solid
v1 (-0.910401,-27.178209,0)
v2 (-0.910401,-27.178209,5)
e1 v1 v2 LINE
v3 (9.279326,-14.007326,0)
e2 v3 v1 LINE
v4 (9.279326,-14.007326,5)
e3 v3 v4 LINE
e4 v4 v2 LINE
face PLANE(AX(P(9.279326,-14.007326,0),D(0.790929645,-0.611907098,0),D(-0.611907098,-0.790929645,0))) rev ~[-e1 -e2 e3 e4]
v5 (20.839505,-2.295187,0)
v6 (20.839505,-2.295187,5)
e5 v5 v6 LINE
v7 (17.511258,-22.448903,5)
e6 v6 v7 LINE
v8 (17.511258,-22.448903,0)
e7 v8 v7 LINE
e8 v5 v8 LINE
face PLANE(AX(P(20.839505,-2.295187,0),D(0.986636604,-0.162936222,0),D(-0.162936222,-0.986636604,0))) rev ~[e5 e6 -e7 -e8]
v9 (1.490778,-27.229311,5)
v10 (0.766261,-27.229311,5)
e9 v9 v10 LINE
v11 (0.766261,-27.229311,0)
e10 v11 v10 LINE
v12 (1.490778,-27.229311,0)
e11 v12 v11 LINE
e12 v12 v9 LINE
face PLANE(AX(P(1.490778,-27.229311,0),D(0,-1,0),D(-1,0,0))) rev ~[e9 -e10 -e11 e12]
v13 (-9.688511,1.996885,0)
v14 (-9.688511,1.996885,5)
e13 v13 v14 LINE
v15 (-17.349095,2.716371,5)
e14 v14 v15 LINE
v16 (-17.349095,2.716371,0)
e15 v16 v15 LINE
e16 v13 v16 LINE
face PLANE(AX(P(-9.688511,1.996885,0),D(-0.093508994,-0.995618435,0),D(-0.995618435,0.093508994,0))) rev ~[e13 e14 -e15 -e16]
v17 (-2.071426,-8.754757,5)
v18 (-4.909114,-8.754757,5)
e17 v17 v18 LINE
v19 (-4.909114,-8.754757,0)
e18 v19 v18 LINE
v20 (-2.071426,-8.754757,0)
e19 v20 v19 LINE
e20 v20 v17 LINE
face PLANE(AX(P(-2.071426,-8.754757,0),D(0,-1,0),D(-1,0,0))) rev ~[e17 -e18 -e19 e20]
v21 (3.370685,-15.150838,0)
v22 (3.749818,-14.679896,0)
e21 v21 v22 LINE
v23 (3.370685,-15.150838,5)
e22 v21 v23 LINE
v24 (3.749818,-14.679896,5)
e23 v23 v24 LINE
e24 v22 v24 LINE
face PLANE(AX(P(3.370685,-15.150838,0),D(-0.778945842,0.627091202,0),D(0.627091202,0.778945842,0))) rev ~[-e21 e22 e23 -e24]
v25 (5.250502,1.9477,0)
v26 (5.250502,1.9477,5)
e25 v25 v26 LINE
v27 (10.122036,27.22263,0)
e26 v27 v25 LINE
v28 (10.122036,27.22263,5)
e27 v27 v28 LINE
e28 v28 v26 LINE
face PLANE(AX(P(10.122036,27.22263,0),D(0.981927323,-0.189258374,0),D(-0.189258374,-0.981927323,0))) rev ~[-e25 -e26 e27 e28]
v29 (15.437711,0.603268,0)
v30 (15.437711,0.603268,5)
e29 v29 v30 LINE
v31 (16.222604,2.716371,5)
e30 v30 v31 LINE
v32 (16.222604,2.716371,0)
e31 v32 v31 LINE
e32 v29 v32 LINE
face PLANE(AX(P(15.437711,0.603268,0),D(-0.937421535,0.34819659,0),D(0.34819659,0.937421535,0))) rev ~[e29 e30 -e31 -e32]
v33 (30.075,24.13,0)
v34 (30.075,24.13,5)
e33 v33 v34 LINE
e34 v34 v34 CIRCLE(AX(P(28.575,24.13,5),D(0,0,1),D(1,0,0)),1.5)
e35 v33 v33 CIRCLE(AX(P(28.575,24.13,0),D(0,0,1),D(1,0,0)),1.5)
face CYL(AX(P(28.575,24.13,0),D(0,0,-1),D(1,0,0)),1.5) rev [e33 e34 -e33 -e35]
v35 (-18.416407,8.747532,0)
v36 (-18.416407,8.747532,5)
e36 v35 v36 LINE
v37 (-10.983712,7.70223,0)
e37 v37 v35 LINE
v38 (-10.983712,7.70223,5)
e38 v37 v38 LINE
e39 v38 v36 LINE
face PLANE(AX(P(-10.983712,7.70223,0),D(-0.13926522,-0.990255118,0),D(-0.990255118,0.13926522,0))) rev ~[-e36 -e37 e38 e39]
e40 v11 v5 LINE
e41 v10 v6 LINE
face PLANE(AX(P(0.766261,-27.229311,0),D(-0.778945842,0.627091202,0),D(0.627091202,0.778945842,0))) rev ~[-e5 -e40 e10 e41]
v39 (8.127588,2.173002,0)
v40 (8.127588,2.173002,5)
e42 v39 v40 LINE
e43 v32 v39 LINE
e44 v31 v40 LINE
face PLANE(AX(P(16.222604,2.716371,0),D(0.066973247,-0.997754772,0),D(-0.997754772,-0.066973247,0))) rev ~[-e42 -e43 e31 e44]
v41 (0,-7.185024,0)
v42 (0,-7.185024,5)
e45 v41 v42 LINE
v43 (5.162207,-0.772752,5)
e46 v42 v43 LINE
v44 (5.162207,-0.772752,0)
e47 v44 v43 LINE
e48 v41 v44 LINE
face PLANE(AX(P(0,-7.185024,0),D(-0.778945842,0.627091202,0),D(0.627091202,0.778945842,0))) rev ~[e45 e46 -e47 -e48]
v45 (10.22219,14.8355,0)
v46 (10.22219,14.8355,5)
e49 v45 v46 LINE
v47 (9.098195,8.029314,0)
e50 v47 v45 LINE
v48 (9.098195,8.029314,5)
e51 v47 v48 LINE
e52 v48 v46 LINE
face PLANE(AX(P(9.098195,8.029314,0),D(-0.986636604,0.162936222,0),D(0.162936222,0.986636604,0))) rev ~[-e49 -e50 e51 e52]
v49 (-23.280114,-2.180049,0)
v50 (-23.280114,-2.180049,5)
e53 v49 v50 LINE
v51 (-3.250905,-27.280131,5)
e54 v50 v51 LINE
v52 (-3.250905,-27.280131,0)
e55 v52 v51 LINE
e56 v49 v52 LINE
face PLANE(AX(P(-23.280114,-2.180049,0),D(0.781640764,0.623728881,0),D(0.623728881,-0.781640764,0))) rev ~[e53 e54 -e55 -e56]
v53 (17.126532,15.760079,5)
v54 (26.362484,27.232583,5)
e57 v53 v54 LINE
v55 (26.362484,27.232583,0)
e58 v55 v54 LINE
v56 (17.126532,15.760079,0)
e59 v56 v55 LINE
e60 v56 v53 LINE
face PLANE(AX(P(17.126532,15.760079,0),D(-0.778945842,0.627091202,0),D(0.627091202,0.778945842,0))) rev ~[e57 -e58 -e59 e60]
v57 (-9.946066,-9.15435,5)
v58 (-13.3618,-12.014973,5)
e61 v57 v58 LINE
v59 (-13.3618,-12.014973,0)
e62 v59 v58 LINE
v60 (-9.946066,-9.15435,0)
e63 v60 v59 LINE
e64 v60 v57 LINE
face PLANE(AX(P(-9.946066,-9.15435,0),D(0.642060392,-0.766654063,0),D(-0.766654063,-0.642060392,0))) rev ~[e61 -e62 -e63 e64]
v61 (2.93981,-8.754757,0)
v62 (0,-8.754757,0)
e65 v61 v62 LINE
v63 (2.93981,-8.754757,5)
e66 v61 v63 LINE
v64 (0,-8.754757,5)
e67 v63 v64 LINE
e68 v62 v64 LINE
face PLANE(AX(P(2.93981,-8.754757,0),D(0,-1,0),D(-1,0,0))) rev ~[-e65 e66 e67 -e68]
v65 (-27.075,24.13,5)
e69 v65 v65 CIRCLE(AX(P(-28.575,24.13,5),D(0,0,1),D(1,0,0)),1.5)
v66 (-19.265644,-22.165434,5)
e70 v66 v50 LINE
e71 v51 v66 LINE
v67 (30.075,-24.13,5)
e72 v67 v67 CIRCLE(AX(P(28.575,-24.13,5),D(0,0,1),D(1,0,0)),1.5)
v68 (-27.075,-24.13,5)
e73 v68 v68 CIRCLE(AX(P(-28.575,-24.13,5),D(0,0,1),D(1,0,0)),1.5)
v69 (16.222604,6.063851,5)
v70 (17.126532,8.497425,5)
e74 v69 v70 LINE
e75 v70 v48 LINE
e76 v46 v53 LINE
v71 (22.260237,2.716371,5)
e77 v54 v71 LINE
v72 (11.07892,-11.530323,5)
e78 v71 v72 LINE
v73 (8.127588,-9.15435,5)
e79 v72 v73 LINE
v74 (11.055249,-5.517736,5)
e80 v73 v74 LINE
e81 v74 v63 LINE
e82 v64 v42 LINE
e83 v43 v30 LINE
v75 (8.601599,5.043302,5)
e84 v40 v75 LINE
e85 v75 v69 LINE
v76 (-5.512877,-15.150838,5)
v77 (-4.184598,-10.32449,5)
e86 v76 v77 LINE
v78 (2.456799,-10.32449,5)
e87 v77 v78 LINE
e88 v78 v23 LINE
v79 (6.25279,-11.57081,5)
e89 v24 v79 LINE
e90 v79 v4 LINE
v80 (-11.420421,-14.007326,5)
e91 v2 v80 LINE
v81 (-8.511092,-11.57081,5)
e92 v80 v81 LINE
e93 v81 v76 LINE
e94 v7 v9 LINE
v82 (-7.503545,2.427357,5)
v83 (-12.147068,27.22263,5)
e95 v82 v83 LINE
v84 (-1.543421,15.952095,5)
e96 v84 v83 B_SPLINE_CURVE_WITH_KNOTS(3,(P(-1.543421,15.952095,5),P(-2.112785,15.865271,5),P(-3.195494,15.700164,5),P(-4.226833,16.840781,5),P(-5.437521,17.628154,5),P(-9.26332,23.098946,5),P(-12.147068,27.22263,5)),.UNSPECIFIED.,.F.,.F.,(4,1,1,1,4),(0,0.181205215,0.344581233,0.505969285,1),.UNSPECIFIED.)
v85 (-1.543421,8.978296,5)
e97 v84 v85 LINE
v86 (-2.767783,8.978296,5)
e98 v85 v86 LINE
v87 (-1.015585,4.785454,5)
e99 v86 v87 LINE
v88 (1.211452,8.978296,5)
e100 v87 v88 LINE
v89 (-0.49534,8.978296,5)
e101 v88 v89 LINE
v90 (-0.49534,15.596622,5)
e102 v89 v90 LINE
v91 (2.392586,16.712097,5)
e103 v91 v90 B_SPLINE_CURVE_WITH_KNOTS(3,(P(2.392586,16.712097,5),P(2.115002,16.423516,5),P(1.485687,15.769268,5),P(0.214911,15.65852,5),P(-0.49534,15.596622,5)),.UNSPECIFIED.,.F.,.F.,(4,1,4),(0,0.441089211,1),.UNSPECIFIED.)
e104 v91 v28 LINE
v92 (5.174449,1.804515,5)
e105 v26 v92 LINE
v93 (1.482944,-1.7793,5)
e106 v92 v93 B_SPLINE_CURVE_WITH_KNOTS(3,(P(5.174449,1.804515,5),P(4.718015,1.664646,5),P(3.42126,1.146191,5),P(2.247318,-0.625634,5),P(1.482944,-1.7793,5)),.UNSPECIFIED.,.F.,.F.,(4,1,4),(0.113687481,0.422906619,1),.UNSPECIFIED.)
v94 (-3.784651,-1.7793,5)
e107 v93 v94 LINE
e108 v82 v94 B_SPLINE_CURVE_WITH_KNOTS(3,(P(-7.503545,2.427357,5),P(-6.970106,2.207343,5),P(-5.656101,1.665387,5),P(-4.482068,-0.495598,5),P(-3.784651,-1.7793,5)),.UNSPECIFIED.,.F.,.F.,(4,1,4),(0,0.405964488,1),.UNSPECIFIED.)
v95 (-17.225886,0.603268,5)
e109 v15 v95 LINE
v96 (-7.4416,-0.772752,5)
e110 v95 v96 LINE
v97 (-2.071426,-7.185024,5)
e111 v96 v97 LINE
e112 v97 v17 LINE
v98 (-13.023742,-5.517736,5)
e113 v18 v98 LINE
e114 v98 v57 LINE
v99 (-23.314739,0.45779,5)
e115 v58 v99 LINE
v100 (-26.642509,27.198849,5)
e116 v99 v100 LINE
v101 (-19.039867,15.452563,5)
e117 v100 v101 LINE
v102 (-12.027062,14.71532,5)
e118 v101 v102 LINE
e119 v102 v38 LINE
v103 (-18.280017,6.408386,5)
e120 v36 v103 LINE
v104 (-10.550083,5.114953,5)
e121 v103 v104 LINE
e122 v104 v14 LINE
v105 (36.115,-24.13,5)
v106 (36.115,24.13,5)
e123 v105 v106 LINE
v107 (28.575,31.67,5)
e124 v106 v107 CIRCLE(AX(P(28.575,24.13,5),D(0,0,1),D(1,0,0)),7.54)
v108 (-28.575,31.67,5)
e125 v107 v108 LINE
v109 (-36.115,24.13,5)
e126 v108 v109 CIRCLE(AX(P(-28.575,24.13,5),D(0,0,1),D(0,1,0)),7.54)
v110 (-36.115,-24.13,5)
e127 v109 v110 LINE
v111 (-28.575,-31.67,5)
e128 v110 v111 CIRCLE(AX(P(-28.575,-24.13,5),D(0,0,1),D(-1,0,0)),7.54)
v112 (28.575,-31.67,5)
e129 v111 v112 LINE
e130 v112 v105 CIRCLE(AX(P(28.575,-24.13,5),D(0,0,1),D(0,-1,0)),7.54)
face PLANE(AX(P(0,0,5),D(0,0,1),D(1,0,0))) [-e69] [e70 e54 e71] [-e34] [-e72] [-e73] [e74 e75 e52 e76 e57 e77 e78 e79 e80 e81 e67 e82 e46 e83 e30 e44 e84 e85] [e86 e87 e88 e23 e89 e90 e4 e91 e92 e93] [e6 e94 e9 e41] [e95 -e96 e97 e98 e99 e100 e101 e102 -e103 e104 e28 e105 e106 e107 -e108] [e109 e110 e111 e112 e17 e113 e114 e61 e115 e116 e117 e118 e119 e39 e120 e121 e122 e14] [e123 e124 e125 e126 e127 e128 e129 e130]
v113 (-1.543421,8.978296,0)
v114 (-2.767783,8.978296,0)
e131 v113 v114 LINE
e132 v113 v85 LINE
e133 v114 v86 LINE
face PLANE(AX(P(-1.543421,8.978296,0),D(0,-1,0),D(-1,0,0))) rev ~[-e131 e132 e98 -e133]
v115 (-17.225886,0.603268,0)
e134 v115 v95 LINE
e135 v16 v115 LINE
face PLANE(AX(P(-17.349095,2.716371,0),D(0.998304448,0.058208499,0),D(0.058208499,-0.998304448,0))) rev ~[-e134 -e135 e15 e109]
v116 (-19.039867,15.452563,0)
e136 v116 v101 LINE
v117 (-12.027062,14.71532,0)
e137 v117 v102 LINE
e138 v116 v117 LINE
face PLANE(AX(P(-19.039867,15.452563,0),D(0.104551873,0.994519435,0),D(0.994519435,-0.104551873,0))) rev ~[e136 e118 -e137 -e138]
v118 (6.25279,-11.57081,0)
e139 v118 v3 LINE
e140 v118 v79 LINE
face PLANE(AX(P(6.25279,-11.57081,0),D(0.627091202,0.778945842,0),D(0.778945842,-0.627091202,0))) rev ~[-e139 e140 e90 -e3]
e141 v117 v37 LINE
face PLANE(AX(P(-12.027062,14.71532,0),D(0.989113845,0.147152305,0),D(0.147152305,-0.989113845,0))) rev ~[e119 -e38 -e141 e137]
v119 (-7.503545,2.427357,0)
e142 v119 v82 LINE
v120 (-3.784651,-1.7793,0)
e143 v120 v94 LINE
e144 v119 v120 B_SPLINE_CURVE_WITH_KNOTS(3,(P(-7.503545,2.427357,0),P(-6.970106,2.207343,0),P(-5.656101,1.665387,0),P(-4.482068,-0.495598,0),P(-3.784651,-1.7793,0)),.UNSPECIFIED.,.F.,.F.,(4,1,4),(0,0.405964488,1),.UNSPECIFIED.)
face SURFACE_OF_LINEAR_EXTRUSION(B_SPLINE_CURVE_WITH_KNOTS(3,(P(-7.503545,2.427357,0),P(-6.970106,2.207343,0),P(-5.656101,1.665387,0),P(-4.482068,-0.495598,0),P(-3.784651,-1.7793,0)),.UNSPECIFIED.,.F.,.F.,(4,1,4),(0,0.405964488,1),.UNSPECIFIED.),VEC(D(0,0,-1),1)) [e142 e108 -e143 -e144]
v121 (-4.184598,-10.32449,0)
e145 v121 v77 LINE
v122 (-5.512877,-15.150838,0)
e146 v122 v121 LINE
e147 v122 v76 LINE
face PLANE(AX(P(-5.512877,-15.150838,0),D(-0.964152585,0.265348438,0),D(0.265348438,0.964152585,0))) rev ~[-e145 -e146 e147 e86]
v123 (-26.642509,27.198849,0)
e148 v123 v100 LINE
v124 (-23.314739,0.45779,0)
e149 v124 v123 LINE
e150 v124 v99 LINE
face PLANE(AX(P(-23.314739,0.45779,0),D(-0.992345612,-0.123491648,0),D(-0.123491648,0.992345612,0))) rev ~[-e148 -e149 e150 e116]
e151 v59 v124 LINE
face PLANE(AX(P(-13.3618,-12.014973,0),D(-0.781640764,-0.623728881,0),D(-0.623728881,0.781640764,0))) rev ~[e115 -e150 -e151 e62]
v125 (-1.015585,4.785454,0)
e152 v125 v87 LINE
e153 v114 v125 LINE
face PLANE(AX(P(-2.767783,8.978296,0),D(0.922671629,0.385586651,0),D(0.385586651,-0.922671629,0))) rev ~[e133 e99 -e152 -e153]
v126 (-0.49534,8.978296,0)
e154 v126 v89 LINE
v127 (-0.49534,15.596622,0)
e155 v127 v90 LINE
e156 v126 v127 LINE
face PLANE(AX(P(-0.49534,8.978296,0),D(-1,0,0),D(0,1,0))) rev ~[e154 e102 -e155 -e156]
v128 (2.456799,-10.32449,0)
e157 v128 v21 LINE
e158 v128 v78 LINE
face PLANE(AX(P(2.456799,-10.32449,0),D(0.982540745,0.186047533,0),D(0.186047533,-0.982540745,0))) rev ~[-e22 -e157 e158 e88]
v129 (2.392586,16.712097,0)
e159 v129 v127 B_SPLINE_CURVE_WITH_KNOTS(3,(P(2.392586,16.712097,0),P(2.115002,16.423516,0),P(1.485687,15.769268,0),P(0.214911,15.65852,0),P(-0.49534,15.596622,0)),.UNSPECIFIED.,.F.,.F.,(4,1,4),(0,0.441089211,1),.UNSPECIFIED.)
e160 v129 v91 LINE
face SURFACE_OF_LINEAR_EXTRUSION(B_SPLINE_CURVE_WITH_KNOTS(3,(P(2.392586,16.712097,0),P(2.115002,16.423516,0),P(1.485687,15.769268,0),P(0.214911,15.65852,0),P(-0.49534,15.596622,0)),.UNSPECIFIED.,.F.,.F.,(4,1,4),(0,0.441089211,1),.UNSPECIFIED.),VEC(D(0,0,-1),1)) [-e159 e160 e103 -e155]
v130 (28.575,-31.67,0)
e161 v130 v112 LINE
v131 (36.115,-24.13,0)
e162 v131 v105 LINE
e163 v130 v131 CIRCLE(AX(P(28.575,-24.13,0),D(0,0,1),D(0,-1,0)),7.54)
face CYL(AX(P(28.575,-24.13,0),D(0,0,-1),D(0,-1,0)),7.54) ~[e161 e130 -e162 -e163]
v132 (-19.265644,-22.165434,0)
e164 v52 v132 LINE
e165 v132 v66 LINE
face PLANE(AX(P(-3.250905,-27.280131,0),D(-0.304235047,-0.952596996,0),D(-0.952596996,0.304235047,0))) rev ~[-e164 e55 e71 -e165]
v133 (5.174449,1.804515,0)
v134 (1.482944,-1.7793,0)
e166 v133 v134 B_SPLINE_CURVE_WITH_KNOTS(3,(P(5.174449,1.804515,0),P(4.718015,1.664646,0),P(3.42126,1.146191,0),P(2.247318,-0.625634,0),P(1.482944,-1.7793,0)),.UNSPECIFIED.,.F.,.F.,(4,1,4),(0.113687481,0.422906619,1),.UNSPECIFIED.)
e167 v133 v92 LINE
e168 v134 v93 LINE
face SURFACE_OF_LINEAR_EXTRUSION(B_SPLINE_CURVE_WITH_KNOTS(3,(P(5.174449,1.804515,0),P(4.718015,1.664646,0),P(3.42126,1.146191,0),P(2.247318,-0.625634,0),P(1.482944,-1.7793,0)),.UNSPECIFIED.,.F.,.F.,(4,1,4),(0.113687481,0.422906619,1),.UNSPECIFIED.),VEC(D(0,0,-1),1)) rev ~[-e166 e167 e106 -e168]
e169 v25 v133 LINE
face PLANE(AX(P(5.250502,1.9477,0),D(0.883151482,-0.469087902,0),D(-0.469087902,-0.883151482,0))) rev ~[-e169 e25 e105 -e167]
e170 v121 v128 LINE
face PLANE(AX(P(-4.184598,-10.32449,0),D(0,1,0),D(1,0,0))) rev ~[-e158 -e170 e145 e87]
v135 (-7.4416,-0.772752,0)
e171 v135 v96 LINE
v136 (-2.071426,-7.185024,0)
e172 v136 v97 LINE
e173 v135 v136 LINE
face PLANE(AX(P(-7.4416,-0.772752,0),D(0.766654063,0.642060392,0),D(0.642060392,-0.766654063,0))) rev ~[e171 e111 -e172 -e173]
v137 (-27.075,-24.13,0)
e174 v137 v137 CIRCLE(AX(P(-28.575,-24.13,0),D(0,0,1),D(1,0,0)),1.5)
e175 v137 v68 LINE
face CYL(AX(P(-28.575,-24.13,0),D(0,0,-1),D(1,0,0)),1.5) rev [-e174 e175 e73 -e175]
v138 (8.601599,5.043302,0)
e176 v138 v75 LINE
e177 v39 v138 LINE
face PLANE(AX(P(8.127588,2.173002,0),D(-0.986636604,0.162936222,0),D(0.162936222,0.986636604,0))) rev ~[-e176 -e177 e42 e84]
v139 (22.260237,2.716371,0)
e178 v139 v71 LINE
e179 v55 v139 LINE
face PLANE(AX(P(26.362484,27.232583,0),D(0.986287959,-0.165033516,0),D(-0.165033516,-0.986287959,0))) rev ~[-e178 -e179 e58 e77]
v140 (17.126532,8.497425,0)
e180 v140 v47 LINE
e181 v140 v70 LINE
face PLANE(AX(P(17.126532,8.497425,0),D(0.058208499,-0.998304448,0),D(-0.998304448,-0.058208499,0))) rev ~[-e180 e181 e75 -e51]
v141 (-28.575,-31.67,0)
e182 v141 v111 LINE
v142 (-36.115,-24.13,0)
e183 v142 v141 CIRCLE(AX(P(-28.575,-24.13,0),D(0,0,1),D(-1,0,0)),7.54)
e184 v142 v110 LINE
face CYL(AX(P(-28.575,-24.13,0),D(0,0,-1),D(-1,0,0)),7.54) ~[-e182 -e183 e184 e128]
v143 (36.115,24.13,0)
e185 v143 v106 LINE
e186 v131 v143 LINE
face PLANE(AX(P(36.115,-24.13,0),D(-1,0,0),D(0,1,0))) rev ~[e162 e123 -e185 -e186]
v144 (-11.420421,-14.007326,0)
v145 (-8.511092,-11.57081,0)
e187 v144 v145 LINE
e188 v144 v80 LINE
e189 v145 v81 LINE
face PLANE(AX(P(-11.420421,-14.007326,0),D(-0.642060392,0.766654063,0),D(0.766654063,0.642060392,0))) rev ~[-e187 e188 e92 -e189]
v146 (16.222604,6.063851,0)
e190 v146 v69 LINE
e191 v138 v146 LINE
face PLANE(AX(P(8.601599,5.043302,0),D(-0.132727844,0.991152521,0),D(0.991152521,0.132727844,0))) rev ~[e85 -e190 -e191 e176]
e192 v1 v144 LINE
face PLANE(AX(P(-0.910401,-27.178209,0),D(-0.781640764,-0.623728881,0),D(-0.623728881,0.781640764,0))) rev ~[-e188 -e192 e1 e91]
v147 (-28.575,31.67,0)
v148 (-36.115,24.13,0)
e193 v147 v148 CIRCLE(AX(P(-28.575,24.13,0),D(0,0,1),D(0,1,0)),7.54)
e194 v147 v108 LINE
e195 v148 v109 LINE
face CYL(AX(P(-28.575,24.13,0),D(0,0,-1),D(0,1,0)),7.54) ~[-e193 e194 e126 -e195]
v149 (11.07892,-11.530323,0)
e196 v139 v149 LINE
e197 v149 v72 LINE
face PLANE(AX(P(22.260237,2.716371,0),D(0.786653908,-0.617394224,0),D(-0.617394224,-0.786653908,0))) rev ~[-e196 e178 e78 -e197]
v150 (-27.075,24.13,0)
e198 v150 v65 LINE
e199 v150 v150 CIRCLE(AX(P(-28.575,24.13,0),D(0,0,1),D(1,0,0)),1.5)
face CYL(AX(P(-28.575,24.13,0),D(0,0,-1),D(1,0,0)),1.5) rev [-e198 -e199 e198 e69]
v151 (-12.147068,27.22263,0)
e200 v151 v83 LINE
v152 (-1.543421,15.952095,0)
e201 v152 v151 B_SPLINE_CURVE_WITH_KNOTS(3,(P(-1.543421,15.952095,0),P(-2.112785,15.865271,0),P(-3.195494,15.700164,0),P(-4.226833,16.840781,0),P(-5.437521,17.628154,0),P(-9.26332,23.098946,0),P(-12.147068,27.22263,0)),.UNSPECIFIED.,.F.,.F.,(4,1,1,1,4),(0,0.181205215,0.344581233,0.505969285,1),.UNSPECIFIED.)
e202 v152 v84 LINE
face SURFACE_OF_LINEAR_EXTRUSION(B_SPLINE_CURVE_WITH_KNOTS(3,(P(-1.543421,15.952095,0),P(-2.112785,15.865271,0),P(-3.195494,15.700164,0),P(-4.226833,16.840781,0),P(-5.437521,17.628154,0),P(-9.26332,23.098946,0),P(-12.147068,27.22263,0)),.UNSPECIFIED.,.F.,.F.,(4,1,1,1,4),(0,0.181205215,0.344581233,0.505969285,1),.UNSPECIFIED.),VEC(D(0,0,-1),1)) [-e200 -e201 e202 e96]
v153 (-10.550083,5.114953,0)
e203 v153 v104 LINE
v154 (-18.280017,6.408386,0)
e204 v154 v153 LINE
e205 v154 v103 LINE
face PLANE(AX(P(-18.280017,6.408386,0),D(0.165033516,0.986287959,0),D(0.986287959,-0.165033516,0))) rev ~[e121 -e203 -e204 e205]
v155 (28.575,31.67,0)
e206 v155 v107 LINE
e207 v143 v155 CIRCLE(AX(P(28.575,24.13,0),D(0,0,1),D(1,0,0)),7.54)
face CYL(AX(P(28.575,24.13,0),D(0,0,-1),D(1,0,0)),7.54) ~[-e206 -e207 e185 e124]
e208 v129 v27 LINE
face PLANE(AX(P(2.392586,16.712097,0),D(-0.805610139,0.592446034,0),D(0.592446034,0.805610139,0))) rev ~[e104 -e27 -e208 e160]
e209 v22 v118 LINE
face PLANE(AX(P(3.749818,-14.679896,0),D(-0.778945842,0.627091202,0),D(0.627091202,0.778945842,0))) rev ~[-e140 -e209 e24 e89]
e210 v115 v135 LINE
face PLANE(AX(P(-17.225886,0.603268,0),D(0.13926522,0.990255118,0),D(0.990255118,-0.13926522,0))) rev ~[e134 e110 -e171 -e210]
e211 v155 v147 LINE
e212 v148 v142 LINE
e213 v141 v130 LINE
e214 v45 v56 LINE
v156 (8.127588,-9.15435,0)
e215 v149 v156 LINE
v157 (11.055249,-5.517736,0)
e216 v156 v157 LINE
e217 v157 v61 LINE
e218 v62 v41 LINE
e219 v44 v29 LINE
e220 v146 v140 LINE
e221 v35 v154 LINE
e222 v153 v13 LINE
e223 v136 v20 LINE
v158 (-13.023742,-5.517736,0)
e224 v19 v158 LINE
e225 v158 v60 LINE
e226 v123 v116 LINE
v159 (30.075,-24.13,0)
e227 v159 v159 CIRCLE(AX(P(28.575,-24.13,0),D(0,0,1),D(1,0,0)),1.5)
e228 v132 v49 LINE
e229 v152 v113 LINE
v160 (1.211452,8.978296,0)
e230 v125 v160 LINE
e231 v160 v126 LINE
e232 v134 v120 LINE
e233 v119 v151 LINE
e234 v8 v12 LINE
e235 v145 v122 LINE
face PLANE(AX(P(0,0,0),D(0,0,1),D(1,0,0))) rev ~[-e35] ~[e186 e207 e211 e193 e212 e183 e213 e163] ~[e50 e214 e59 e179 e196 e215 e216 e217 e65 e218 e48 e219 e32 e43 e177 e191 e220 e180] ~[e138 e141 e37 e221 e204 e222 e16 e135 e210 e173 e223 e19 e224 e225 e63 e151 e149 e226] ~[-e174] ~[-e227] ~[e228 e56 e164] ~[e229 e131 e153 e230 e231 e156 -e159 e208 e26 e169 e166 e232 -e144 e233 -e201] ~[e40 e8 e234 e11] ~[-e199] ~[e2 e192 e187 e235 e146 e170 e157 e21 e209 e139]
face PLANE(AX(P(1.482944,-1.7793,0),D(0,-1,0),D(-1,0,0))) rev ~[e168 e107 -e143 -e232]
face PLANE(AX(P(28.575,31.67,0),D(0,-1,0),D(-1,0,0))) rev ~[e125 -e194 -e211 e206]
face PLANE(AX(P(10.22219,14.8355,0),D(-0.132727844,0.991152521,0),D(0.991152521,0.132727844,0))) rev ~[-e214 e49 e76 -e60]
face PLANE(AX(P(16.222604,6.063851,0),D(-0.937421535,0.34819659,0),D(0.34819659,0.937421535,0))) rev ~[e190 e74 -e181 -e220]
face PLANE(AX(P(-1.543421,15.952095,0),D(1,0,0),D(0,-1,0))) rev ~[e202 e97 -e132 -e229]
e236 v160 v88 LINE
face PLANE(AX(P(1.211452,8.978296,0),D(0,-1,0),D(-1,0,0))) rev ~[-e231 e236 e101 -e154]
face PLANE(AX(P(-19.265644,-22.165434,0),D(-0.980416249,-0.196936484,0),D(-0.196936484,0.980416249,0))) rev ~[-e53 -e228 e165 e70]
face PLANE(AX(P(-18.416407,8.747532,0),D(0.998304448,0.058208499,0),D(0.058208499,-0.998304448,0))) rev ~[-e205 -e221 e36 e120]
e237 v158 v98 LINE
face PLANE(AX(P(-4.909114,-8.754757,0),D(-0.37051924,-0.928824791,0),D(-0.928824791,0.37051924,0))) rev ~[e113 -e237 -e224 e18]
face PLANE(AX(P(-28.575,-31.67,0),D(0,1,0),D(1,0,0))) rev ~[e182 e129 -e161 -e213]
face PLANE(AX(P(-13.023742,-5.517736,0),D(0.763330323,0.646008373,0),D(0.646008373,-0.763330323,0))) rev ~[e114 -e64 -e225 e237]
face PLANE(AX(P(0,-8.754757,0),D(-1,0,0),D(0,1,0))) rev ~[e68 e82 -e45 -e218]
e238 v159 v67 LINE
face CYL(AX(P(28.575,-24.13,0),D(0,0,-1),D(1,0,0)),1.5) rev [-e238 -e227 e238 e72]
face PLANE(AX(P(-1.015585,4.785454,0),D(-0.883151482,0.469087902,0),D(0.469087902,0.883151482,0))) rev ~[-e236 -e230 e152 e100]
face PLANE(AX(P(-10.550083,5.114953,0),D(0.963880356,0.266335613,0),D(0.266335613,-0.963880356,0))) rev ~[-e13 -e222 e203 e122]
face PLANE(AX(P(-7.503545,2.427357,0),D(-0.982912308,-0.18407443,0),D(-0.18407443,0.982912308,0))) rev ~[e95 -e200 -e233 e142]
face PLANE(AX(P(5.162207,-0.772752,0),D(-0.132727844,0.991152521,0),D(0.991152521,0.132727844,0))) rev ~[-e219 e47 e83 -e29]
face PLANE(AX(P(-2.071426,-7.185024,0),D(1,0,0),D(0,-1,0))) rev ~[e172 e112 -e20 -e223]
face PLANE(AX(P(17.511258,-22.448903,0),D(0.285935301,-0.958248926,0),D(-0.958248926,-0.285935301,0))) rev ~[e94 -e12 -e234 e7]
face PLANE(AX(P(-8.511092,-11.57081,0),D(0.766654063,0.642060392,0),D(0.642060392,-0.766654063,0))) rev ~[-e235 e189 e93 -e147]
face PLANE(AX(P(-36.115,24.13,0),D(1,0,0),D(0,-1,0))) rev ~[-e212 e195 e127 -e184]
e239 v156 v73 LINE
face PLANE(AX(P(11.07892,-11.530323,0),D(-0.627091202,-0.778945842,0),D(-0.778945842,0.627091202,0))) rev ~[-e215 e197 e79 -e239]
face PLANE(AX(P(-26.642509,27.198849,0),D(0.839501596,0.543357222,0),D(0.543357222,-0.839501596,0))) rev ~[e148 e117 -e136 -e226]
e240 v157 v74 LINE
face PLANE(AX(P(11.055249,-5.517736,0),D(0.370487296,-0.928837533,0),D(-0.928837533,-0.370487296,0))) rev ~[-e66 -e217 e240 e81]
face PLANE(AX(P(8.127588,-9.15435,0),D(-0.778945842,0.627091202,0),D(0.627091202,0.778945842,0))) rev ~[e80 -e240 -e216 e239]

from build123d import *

# Parameters (mm, degrees)
F0_R     = 1.5
F1_DEPTH = 5


with BuildPart() as f1:
    # F0 (on Top) → F1 (new body)
    with BuildSketch(Plane.XY):
        with BuildLine():
            Line((28.575, 31.67), (-28.575, 31.67))
            ThreePointArc((-28.575, 31.67), (-33.9065851301, 29.4615851301), (-36.115, 24.13))
            Line((-36.115, 24.13), (-36.115, -24.13))
            ThreePointArc((-36.115, -24.13), (-33.9065851301, -29.4615851301), (-28.575, -31.67))
            Line((-28.575, -31.67), (28.575, -31.67))
            ThreePointArc((28.575, -31.67), (33.9065851301, -29.4615851301), (36.115, -24.13))
            Line((36.115, -24.13), (36.115, 24.13))
            ThreePointArc((36.115, 24.13), (33.9065851301, 29.4615851301), (28.575, 31.67))
        make_face()
        with Locations((-28.575, -24.13)):
            Circle(F0_R, mode=Mode.SUBTRACT)
        Polygon((6.2527900536, -11.5708104593), (9.2793256044, -14.0073262155), (-0.9104009134, -27.1782091798), (-11.4204209558, -14.0073262155), (-8.51109229, -11.5708104593), (-5.5128769018, -15.1508381907), (-4.1845976375, -10.3244902566), (2.4567989167, -10.3244902566), (3.3706848119, -15.1508381907), (3.7498176424, -14.6798956216), align=None, mode=Mode.SUBTRACT)
        Polygon((-23.2801141861, -2.1800489627), (-3.2509050798, -27.2801313549), (-19.2656442523, -22.165434435), align=None, mode=Mode.SUBTRACT)
        with Locations((28.575, -24.13)):
            Circle(F0_R, mode=Mode.SUBTRACT)
        Polygon((0.7662613061, -27.2293109447), (20.8395048976, -2.2951872088), (17.5112579018, -22.4489029497), (1.4907777077, -27.2293109447), align=None, mode=Mode.SUBTRACT)
        Polygon((-9.9460659389, -9.1543504968), (-13.361800462, -12.0149729773), (-23.3147393549, 0.4577904218), (-26.6425088048, 27.1988492459), (-19.0398674458, 15.4525628313), (-12.0270624757, 14.7153204307), (-10.9837119319, 7.7022297044), (-18.4164068339, 8.7475319435), (-18.2800174343, 6.4083864975), (-10.5500826612, 5.114952568), (-9.6885105595, 1.9968850538), (-17.3490952176, 2.7163710911), (-17.2258857638, 0.603268214), (-7.4416000808, -0.7727516371), (-2.0714257844, -7.1850237437), (-2.0714257844, -8.754757233), (-4.9091139808, -8.754757233), (-13.0237422309, -5.51773565), align=None, mode=Mode.SUBTRACT)
        with BuildLine():
            add(Edge.make_bspline(
                [(-1.5434205998, 15.9520953894), (-2.1127854677, 15.8652707774), (-3.1954940882, 15.7001644261), (-4.2268327688, 16.8407808297), (-5.4375210158, 17.6281538425), (-9.2633203303, 23.0989462448), (-12.147068046, 27.2226296365)],
                knots=[0, 0, 0, 0, 0.1812052149, 0.3445812332, 0.5059692848, 1, 1, 1, 1], degree=3))
            Line((-1.5434205998, 15.9520953894), (-1.5434205998, 8.9782960713))
            Line((-1.5434205998, 8.9782960713), (-2.7677833568, 8.9782960713))
            Line((-2.7677833568, 8.9782960713), (-1.0155849159, 4.7854543664))
            Line((-1.0155849159, 4.7854543664), (1.2114524143, 8.9782960713))
            Line((1.2114524143, 8.9782960713), (-0.495339511, 8.9782960713))
            Line((-0.495339511, 8.9782960713), (-0.495339511, 15.5966216698))
            add(Edge.make_bspline(
                [(2.392585855, 16.7120974511), (2.1150017163, 16.4235156809), (1.4856865312, 15.7692675998), (0.2149107712, 15.6585198064), (-0.495339511, 15.5966216698)],
                knots=[0, 0, 0, 0, 0.4410892114, 1, 1, 1, 1], degree=3))
            Line((2.392585855, 16.7120974511), (10.12203563, 27.2226296365))
            Line((10.12203563, 27.2226296365), (5.2505019121, 1.9477001624))
            Line((5.2505019121, 1.9477001624), (5.1744488655, 1.8045151419))
            add(Edge.make_bspline(
                [(5.1744488655, 1.8045151419), (4.7180148969, 1.6646463966), (3.4212599775, 1.14619058), (2.2473178638, -0.6256342161), (1.4829438878, -1.7792999279)],
                knots=[0.1136874814, 0.1136874814, 0.1136874814, 0.1136874814, 0.4229066187, 1, 1, 1, 1], degree=3))
            Line((1.4829438878, -1.7792999279), (-3.7846511696, -1.7792999279))
            add(Edge.make_bspline(
                [(-7.5035453774, 2.4273574818), (-6.9701059824, 2.2073427858), (-5.6561009128, 1.6653872637), (-4.4820682586, -0.4955979623), (-3.7846511696, -1.7792999279)],
                knots=[0, 0, 0, 0, 0.4059644878, 1, 1, 1, 1], degree=3))
            Line((-7.5035453774, 2.4273574818), (-12.147068046, 27.2226296365))
        make_face(mode=Mode.SUBTRACT)
        with Locations((-28.575, 24.13)):
            Circle(F0_R, mode=Mode.SUBTRACT)
        Polygon((22.2602374852, 2.7163710911), (11.0789202031, -11.5303234741), (8.1275883001, -9.1543504968), (11.0552490609, -5.51773565), (2.9398098122, -8.754757233), (0, -8.754757233), (0, -7.1850237437), (5.1622066744, -0.7727516371), (15.4377110302, 0.603268214), (16.2226036191, 2.7163710911), (8.1275883001, 2.1730016451), (8.6015986256, 5.0433022481), (16.2226036191, 6.0638510984), (17.1265321758, 8.4974248905), (9.0981954709, 8.029313758), (10.2221901556, 14.8355001374), (17.1265321758, 15.7600787614), (26.3624843102, 27.2325830574), align=None, mode=Mode.SUBTRACT)
        with Locations((28.575, 24.13)):
            Circle(F0_R, mode=Mode.SUBTRACT)
    extrude(amount=F1_DEPTH)


solid = f1.part
